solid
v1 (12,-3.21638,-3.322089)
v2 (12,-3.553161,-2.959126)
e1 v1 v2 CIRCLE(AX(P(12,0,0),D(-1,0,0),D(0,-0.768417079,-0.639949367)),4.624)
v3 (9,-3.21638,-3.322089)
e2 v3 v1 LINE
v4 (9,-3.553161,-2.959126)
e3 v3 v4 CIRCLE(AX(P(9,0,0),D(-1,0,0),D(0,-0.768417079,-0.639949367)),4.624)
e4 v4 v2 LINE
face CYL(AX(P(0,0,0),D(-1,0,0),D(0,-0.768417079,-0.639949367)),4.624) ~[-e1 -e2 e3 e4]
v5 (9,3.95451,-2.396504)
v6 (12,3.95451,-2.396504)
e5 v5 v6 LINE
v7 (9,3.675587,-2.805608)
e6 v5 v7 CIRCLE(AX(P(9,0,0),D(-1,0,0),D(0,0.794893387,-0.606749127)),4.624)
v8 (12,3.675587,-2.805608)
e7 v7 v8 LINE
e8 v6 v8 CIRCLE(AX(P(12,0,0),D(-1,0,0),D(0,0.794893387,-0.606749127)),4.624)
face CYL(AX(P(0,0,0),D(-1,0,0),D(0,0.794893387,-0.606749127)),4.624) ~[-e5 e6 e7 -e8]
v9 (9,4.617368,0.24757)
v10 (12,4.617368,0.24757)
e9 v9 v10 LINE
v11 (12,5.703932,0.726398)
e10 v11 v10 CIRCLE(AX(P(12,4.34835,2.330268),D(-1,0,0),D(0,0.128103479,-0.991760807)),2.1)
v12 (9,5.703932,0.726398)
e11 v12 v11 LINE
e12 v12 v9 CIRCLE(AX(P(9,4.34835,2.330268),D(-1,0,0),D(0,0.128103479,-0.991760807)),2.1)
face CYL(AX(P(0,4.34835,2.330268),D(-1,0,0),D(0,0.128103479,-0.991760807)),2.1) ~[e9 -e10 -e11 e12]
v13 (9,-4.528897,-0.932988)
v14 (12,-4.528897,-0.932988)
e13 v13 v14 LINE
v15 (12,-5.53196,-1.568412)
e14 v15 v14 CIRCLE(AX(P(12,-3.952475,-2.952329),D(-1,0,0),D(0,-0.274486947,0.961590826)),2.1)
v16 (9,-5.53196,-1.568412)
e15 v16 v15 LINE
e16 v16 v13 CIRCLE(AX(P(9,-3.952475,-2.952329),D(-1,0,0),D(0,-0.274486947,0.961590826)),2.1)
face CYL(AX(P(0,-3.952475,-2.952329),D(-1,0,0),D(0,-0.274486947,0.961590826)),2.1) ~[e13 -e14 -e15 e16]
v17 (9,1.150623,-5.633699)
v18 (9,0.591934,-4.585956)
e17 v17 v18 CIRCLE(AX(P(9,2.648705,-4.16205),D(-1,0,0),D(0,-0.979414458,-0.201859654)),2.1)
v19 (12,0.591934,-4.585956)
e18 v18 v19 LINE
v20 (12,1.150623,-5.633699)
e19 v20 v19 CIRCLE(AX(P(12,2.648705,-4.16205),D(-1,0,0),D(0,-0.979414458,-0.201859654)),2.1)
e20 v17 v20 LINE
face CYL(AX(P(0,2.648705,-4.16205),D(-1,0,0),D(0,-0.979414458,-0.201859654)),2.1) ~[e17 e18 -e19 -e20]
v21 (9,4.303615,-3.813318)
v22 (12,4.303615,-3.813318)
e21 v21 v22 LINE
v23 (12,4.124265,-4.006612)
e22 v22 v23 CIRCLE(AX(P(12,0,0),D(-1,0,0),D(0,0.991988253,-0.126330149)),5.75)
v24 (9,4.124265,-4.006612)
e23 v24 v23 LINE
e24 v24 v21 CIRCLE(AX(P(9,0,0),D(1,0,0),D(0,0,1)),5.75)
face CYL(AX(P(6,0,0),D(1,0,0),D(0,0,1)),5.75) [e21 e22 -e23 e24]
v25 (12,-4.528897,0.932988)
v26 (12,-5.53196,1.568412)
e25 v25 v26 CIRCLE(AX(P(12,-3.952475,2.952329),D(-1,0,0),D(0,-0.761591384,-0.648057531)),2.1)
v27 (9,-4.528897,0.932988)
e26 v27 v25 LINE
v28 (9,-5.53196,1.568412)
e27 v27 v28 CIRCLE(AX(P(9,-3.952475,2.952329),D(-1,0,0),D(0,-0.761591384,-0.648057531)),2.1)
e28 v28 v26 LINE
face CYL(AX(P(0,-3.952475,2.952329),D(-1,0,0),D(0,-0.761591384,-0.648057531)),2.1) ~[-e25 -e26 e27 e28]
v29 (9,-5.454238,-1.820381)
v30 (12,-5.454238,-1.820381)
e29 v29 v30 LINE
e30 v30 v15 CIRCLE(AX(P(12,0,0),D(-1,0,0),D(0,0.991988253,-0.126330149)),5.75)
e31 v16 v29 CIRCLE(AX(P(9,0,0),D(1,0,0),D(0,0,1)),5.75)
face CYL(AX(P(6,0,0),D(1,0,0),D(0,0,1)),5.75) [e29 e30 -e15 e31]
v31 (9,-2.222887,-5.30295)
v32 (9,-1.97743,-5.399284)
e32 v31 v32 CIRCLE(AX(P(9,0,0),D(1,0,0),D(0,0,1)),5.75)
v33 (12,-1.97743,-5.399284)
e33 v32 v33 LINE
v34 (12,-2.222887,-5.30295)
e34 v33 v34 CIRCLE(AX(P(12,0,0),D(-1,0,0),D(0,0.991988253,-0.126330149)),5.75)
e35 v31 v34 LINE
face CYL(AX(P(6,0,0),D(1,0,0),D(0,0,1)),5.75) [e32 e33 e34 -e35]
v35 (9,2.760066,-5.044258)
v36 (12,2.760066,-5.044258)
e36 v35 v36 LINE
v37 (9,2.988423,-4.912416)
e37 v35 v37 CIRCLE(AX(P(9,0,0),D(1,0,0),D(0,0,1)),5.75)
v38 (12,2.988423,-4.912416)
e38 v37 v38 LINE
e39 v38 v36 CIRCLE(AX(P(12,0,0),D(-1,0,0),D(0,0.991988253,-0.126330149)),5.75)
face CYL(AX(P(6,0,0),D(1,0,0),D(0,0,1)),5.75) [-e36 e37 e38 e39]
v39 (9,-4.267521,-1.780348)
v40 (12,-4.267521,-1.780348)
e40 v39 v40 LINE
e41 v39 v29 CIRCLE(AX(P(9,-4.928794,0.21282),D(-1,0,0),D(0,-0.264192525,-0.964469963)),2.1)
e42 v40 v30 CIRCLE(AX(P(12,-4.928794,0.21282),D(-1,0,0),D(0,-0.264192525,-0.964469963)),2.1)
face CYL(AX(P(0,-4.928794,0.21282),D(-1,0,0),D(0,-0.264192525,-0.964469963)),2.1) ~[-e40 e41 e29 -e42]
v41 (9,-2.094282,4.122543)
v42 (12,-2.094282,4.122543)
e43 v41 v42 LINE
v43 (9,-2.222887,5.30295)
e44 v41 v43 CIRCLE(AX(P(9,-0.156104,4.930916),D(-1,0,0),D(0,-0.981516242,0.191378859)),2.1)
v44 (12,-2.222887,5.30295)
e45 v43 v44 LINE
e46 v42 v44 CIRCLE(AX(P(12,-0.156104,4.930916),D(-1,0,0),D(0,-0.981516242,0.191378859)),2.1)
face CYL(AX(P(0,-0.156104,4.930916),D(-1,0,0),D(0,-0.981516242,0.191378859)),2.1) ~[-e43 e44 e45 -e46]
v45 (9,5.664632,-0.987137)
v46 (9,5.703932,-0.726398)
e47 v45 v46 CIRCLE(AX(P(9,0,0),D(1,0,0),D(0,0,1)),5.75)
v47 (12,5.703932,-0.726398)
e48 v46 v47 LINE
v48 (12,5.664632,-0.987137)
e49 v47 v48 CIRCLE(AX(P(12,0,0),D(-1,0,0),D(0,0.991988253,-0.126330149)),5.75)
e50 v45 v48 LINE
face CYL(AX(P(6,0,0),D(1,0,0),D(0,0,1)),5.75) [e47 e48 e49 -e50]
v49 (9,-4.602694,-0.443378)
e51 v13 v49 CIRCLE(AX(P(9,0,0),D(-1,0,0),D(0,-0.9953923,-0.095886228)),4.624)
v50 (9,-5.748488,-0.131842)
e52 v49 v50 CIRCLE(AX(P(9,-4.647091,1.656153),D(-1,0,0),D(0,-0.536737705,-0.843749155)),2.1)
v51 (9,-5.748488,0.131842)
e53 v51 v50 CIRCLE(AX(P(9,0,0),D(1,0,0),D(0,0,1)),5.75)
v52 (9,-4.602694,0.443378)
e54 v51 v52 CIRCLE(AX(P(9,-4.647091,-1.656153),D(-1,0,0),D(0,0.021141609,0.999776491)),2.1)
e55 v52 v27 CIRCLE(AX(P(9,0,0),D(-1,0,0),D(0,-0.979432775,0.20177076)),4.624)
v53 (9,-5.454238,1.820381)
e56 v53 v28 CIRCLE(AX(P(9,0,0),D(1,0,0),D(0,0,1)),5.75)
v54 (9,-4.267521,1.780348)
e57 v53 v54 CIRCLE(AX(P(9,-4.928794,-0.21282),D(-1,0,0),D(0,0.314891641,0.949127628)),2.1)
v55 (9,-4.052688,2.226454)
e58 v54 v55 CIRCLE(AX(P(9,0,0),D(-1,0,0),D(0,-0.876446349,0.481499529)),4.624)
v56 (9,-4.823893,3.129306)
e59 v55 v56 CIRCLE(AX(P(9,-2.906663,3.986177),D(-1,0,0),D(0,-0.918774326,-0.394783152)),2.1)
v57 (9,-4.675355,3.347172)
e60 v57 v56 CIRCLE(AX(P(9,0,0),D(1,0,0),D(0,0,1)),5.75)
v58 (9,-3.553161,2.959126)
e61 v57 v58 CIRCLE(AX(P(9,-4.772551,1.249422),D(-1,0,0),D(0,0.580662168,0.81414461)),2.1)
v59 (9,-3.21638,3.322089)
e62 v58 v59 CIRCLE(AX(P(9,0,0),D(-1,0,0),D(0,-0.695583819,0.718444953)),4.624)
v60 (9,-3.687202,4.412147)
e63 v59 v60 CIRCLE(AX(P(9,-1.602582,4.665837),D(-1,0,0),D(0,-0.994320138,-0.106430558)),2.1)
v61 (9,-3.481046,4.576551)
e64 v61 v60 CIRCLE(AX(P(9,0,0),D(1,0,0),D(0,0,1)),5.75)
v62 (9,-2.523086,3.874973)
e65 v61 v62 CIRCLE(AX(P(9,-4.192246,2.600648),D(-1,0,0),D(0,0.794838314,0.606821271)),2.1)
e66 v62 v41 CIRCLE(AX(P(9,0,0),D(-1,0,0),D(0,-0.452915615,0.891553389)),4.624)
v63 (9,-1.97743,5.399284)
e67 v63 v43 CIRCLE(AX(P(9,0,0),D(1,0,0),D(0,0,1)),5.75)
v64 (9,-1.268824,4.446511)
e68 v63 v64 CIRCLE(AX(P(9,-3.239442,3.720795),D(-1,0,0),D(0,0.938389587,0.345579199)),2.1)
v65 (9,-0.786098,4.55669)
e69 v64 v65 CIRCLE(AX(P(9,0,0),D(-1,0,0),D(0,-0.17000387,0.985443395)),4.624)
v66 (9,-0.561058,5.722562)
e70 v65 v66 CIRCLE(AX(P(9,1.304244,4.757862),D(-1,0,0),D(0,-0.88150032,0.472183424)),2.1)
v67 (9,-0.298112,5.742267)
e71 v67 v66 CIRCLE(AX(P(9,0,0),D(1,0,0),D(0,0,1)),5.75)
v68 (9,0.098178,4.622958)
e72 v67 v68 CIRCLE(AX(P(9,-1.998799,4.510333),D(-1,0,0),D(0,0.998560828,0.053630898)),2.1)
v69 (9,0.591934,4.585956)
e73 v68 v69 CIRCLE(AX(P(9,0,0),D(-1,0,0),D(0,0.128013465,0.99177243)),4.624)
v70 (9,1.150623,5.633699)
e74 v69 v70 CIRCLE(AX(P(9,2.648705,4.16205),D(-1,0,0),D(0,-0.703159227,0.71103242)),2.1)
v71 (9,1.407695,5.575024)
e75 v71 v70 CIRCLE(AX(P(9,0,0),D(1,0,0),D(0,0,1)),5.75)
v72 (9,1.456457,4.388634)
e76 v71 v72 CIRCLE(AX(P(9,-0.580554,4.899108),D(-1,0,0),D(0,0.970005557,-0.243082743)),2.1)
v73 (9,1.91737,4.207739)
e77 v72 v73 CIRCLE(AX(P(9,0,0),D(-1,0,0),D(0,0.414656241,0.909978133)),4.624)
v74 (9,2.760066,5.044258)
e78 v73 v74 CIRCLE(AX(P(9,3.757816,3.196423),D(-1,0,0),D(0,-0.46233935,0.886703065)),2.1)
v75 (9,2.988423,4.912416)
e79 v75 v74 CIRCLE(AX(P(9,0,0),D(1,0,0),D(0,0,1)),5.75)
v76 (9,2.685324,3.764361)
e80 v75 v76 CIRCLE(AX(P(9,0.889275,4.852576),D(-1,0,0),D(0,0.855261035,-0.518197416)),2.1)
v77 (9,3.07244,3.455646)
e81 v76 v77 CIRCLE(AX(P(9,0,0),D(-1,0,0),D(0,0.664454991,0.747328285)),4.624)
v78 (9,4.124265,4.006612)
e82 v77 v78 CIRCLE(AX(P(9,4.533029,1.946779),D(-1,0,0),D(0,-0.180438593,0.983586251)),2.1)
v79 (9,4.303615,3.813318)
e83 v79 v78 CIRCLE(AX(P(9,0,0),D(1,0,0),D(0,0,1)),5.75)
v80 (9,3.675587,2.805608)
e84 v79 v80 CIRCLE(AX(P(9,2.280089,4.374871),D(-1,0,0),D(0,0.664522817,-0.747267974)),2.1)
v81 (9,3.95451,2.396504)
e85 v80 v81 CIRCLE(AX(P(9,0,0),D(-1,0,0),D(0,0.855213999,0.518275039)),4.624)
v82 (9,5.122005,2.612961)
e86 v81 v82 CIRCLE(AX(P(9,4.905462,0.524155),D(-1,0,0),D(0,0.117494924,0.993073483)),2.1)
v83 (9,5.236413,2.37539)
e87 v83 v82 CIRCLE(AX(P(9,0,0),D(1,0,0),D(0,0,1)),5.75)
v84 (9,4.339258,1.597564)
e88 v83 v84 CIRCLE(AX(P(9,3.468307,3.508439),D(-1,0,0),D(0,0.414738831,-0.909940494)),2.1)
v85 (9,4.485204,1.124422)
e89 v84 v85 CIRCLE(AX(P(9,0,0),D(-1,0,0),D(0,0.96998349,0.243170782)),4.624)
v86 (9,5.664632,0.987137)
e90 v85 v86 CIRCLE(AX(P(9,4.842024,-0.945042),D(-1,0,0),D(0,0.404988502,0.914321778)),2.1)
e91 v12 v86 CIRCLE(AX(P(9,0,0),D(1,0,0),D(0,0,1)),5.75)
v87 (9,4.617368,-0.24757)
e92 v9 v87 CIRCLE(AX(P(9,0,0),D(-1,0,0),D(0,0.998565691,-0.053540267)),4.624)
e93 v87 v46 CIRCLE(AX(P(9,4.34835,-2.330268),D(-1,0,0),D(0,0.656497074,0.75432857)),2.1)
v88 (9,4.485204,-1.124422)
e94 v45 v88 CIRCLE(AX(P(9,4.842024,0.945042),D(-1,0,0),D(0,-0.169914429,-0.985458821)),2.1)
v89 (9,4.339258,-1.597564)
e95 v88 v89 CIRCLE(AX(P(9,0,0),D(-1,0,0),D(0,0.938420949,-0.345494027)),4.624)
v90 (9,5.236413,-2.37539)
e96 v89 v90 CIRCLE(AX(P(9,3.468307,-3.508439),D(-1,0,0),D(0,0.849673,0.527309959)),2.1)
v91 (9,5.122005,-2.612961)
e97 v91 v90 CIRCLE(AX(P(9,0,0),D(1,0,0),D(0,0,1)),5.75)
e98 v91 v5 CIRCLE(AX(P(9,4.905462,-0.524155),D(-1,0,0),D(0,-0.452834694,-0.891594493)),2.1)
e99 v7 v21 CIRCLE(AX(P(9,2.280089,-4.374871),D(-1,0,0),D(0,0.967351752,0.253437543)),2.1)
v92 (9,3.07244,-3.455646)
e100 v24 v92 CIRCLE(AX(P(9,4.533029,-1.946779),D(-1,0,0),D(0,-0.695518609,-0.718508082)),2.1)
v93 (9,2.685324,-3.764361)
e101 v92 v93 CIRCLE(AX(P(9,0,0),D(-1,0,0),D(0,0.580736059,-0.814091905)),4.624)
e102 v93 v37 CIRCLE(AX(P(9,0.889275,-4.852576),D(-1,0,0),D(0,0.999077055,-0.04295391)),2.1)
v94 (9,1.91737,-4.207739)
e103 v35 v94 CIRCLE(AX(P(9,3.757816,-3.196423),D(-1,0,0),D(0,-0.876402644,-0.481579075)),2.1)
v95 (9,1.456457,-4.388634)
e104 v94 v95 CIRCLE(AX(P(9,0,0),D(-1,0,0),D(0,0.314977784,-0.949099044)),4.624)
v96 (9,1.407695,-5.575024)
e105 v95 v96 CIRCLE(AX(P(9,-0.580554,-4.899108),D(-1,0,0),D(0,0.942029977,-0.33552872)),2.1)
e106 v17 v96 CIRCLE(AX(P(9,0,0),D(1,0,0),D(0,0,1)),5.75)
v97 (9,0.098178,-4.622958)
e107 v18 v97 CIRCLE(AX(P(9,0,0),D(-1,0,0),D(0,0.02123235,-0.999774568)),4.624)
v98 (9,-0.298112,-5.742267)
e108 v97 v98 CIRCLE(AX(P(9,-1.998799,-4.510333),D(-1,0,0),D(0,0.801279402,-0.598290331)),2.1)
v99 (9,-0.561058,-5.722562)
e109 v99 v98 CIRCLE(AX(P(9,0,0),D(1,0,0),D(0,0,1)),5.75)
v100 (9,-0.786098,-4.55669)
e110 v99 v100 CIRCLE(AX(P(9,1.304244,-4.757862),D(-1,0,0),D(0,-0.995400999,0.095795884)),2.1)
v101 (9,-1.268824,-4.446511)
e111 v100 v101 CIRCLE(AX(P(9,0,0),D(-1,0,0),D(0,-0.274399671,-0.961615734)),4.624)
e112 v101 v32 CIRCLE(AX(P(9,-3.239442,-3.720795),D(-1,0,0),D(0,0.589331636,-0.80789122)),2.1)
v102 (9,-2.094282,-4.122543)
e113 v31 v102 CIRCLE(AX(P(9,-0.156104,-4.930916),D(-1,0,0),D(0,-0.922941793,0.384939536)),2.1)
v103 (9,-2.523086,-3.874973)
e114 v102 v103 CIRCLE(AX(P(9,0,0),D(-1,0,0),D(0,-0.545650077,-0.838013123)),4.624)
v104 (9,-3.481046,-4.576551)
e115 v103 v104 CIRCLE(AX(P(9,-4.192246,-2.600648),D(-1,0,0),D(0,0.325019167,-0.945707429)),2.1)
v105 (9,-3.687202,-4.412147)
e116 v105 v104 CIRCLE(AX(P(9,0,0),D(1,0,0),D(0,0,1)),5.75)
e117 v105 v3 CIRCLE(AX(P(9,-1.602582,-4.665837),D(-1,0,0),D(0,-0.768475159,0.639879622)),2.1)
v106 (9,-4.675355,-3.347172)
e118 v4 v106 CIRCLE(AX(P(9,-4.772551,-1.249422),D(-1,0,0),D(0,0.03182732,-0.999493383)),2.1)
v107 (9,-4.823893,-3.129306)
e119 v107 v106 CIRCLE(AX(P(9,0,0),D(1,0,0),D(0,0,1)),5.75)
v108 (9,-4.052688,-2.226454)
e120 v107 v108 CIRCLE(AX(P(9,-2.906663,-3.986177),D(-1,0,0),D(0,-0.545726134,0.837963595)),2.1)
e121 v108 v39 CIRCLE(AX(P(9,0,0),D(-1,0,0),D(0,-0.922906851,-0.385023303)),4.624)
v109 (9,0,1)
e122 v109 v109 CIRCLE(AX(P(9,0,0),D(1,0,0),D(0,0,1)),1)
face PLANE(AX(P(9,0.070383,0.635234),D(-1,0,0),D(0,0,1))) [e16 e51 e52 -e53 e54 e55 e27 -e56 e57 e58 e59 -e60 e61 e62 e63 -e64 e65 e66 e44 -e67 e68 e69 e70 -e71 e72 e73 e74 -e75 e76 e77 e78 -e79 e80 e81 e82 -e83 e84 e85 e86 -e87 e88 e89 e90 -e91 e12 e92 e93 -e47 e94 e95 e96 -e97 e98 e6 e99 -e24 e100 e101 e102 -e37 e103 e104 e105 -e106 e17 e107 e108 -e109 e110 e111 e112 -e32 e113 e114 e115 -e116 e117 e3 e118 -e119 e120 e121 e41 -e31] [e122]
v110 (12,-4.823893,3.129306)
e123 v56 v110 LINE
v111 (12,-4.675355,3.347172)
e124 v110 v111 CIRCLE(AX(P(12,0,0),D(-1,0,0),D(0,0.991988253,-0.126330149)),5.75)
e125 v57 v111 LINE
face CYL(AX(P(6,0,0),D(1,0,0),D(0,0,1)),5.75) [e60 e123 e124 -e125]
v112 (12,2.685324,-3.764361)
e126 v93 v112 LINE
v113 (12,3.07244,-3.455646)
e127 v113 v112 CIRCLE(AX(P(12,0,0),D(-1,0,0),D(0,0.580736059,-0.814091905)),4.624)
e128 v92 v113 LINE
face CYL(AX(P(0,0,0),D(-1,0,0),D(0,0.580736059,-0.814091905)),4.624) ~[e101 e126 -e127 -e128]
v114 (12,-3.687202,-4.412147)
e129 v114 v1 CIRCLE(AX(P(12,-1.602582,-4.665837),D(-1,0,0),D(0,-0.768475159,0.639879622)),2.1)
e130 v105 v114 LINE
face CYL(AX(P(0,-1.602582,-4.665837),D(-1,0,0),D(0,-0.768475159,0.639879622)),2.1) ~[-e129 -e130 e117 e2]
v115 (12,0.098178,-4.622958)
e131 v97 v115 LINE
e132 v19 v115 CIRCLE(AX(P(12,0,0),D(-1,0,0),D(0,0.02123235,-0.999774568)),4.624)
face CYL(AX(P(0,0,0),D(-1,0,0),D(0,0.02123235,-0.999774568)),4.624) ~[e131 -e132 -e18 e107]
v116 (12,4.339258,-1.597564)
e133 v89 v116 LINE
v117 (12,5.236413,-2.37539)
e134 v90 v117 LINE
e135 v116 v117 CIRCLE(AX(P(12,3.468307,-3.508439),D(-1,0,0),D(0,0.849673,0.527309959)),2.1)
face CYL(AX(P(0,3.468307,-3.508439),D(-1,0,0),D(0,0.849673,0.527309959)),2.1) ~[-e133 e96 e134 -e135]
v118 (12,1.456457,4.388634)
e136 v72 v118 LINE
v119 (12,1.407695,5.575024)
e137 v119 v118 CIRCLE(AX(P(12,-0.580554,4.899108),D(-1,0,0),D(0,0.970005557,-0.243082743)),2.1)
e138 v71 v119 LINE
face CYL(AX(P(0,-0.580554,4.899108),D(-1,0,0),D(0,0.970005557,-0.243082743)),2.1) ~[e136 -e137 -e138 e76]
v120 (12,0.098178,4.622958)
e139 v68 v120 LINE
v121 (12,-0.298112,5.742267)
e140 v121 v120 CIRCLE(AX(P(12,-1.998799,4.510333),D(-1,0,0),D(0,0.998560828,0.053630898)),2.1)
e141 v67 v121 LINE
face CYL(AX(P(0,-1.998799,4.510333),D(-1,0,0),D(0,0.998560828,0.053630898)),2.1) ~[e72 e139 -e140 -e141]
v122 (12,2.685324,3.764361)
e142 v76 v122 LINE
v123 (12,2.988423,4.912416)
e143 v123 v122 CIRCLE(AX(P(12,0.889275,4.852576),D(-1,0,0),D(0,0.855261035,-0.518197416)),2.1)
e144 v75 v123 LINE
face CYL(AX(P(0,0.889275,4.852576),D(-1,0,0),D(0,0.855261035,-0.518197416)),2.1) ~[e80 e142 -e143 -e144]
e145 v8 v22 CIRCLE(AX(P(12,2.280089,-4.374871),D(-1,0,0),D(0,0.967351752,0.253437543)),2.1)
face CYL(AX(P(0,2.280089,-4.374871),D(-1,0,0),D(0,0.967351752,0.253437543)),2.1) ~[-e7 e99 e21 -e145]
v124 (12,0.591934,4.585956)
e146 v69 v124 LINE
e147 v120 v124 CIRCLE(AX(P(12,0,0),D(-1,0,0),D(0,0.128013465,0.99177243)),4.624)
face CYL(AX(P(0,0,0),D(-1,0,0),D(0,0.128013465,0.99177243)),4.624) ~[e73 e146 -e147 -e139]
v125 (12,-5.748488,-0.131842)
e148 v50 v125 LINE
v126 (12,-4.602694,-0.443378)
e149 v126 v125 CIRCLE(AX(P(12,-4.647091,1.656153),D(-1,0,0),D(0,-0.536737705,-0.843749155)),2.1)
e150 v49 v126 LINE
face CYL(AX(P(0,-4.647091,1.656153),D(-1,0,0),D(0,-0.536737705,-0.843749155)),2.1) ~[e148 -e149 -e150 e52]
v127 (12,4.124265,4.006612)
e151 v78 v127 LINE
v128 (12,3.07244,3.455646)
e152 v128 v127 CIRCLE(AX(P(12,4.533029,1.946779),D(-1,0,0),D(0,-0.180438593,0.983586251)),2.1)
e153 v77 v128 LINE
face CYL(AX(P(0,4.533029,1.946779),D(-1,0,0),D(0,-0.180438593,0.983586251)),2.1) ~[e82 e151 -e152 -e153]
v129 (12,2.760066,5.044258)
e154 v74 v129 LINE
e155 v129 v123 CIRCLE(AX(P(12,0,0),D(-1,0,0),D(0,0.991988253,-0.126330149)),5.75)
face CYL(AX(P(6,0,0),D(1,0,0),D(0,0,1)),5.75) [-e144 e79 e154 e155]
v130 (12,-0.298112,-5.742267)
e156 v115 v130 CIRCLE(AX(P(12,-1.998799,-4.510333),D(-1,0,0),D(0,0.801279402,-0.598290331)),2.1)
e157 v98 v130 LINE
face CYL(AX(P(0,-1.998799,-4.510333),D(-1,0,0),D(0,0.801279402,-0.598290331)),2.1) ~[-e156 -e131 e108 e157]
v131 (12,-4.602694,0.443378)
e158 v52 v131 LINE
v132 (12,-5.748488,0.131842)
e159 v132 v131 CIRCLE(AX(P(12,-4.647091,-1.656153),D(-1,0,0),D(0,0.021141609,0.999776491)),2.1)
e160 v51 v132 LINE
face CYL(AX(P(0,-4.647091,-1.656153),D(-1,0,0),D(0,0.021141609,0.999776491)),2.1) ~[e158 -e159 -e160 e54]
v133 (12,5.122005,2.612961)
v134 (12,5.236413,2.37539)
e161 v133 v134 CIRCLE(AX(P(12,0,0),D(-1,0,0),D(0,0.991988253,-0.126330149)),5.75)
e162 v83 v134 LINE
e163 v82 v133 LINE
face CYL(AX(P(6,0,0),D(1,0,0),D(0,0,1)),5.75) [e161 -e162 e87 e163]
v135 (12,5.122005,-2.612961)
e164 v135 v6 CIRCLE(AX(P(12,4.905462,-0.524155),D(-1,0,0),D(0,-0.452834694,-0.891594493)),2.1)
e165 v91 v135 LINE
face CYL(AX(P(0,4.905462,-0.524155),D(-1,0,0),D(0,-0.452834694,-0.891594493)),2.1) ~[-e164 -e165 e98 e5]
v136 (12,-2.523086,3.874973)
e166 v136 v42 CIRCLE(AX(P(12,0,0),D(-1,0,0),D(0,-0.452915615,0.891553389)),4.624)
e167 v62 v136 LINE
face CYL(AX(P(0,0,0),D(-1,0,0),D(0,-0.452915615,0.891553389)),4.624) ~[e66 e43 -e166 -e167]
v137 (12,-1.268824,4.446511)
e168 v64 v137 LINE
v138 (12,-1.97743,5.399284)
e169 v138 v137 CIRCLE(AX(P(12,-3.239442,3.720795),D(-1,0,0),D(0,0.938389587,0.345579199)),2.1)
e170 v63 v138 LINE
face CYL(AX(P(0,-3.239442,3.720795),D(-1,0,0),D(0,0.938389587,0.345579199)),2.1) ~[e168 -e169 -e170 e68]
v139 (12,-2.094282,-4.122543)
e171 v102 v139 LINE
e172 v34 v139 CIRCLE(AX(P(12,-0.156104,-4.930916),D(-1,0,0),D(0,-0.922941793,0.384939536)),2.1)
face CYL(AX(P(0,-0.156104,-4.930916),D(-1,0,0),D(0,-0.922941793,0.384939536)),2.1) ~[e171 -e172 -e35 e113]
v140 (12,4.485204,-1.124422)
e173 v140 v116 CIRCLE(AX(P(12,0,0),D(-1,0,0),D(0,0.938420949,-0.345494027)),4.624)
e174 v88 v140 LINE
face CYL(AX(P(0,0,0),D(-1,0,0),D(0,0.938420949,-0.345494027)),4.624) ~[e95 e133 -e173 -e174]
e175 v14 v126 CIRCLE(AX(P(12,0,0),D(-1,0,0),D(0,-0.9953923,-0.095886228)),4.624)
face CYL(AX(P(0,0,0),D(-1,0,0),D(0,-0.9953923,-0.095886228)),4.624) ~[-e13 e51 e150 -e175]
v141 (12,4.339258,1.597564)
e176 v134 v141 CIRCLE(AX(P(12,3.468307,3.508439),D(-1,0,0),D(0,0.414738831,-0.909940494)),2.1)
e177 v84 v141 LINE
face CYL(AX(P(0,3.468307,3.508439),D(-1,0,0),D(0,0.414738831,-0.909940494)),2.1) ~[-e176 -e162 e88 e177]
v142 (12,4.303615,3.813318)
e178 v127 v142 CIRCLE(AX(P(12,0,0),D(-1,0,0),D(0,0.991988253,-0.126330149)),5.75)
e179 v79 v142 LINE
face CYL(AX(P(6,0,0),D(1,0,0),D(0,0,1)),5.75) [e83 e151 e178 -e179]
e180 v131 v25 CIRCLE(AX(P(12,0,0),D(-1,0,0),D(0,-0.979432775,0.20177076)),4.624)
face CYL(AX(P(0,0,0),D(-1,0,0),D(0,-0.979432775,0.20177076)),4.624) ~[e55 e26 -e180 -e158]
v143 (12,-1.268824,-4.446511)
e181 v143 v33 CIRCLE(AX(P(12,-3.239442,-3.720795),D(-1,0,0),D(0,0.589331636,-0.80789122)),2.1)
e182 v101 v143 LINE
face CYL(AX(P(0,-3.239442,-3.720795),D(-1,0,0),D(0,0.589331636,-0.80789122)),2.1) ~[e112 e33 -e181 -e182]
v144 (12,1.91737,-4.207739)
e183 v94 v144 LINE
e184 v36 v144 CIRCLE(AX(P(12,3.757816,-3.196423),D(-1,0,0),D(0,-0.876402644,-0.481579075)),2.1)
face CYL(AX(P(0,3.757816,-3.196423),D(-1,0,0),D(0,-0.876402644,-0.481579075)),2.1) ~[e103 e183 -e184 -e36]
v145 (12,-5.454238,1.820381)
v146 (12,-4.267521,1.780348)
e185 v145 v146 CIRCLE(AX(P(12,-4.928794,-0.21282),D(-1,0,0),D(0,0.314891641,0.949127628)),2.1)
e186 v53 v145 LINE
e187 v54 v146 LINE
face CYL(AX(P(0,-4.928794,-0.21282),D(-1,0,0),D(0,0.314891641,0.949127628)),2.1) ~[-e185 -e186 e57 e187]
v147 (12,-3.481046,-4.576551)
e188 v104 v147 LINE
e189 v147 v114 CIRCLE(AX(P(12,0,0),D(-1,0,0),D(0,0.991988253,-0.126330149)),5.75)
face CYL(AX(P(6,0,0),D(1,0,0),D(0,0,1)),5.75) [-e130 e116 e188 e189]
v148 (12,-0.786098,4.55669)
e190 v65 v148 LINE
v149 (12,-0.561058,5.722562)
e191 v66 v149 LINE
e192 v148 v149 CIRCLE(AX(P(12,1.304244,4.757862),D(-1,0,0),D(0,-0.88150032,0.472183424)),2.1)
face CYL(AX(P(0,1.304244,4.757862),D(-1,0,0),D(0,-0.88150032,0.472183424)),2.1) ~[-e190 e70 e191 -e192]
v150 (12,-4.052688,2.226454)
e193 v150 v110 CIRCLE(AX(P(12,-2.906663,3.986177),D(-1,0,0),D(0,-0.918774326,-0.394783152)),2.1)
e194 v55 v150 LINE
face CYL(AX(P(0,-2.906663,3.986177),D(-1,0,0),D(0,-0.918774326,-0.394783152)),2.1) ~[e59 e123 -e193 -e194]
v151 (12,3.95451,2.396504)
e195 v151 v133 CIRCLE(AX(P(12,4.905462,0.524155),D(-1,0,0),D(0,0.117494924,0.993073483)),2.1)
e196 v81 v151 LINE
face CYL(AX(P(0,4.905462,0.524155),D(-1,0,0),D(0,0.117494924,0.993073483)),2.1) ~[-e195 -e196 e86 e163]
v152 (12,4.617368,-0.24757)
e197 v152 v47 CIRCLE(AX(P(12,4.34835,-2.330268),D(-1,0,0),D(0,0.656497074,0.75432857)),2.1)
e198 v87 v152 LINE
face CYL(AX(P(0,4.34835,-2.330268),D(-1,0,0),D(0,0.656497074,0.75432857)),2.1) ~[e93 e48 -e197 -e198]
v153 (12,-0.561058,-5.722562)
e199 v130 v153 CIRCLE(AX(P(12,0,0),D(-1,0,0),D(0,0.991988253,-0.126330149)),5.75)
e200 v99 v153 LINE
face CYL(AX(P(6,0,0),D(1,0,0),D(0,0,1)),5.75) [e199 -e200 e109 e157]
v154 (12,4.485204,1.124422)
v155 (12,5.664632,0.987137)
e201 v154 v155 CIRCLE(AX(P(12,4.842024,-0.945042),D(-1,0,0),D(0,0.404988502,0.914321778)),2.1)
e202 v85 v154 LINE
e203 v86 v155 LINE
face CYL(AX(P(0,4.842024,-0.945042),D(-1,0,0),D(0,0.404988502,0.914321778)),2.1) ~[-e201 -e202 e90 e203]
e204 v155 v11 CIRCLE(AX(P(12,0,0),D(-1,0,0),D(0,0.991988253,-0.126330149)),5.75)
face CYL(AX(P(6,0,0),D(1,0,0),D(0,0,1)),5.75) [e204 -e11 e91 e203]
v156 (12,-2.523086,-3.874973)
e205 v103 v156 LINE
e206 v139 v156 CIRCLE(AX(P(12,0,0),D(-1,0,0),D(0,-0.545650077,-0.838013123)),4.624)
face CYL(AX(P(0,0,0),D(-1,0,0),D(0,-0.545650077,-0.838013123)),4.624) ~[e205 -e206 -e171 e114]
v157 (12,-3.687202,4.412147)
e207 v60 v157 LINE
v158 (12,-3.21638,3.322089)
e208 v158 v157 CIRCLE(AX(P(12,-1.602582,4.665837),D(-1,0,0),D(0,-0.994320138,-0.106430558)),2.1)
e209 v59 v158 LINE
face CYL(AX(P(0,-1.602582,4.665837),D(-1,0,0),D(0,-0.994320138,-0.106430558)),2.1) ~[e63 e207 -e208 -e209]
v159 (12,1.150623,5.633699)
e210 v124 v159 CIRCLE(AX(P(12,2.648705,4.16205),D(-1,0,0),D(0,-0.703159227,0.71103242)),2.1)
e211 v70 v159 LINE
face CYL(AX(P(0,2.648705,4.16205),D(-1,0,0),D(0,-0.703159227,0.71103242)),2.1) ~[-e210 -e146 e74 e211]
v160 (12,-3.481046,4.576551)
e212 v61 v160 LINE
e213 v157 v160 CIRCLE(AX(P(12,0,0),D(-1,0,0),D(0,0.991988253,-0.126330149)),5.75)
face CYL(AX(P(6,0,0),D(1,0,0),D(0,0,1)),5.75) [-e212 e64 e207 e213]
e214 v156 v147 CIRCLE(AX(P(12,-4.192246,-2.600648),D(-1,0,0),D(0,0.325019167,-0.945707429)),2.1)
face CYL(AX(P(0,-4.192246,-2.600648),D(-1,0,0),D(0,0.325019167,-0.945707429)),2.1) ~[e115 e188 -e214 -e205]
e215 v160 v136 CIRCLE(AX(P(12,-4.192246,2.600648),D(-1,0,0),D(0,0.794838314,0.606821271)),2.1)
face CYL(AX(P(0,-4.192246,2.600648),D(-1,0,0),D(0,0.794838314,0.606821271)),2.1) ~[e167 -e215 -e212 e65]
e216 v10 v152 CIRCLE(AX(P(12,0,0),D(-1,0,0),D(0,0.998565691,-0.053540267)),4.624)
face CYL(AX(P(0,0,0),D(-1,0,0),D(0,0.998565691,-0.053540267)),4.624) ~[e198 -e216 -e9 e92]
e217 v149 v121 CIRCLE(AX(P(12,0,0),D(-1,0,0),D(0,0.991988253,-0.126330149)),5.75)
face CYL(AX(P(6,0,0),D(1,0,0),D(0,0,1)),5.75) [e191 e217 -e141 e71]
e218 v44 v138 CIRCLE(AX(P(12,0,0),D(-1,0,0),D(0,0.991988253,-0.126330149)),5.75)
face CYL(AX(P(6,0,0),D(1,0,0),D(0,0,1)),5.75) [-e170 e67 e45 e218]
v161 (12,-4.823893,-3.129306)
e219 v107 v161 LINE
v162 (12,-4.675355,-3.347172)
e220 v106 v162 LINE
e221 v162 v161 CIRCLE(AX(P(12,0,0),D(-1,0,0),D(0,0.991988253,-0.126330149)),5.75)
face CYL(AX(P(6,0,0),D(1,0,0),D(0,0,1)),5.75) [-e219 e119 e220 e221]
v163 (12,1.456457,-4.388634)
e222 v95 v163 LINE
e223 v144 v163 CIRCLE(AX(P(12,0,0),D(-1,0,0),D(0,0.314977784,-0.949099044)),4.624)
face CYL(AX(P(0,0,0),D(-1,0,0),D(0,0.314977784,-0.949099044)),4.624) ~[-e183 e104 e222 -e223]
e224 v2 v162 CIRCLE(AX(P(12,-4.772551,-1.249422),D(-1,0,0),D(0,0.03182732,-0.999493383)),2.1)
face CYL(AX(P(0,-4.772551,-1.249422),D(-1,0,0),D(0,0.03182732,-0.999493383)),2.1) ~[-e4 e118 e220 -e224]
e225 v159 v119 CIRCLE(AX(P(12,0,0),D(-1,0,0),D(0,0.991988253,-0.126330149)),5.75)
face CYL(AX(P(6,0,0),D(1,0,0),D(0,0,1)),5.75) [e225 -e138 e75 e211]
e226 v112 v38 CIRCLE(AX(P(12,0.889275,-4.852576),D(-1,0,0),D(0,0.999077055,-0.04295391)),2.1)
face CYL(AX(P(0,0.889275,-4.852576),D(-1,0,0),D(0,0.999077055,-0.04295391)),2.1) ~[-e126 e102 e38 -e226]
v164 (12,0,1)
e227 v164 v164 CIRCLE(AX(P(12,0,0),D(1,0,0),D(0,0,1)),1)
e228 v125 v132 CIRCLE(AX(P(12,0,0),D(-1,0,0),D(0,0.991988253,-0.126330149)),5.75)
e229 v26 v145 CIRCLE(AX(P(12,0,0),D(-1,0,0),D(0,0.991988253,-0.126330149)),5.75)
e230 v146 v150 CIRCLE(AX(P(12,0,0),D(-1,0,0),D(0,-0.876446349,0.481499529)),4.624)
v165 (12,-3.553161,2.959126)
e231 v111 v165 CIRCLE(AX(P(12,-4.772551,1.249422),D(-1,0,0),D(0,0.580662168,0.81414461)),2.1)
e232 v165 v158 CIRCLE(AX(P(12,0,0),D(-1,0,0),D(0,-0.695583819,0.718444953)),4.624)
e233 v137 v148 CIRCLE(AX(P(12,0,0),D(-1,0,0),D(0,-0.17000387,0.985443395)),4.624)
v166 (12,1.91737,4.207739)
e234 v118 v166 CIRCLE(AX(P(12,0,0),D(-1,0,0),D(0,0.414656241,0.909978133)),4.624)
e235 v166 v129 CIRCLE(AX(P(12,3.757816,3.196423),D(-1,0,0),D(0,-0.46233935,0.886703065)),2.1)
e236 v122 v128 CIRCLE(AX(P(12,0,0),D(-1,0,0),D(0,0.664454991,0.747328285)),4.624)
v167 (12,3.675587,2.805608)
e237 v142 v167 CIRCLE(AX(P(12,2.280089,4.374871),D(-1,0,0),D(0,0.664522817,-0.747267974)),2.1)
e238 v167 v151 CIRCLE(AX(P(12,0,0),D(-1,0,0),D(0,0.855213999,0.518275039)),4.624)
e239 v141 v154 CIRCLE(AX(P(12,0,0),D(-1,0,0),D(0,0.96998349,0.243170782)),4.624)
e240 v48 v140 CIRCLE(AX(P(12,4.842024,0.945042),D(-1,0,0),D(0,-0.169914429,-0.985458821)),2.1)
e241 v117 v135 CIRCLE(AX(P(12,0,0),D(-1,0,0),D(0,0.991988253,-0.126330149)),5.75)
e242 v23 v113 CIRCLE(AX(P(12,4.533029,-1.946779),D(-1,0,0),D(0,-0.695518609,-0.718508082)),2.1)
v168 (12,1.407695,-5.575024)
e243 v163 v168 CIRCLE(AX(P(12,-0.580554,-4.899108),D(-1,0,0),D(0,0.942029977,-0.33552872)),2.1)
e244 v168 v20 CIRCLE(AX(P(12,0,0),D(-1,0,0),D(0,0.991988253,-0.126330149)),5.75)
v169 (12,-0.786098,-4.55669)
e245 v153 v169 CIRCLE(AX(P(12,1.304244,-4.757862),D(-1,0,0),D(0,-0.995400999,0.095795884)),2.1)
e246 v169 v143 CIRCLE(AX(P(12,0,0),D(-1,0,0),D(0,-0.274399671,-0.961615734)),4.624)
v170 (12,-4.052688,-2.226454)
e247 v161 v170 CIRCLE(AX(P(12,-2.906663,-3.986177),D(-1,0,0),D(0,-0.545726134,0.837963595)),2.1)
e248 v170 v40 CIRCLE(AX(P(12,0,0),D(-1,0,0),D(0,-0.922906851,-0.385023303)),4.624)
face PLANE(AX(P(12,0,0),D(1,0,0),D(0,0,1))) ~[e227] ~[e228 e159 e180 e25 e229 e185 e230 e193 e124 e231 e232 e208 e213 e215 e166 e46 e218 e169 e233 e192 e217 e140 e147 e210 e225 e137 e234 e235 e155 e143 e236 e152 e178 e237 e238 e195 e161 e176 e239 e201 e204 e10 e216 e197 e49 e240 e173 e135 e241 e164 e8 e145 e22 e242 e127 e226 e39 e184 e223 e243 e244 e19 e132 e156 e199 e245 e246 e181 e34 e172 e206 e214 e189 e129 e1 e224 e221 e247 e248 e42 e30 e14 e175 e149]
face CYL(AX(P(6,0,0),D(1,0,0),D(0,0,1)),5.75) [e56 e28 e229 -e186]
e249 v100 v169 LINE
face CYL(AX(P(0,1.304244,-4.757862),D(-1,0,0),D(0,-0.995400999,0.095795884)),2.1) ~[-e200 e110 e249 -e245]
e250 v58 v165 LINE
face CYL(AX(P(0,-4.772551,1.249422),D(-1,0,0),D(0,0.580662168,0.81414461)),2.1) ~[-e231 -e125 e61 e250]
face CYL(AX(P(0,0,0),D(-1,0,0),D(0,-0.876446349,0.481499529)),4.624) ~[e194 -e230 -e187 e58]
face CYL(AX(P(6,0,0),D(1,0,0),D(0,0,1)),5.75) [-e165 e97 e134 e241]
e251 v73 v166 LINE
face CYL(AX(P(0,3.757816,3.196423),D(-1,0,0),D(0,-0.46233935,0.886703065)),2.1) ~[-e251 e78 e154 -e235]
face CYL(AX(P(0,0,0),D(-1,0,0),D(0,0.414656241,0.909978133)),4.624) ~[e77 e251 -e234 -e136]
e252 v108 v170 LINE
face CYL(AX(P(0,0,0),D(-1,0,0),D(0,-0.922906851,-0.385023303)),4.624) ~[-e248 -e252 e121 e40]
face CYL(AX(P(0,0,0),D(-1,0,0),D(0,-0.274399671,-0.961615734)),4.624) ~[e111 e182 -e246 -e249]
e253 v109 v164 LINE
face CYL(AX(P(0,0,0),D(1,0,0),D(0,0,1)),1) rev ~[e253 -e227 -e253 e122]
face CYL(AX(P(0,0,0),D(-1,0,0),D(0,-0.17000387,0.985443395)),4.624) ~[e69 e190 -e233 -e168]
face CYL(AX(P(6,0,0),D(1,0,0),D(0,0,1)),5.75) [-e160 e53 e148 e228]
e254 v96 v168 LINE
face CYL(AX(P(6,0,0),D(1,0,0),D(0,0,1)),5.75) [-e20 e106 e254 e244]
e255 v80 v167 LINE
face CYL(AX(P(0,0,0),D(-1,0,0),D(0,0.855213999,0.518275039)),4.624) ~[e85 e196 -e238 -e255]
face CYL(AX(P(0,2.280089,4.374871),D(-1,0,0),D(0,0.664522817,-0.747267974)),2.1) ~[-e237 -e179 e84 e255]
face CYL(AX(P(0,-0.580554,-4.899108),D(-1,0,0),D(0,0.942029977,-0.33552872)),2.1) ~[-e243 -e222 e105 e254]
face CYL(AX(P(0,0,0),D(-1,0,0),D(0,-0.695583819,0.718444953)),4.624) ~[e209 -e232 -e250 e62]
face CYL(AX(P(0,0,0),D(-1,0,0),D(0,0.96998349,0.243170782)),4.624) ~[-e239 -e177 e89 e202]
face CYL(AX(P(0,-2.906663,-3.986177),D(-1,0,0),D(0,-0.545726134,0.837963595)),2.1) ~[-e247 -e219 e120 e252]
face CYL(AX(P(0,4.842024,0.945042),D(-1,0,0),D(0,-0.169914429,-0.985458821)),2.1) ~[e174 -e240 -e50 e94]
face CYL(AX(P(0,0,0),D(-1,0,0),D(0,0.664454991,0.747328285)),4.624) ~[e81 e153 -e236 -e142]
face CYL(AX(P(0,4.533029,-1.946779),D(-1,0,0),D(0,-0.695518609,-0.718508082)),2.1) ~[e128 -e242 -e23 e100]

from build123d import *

# Parameters (mm, degrees)
BASPROSKE_W           = 12
BASPROSKE_H           = 5.75
TOOTHCUT_DEPTH        = 15.495689014
TEETHCUTS_COUNT       = 21
TEETHCUTS_ANGLE       = 342.857142857
BORSKE_R              = 1
BORE_DEPTH            = 50.0000508
CROQUIS1_W            = 14.068559573
CROQUIS1_H            = 12.667308619
CORTAR_EXTRUIR1_DEPTH = 9


with BuildPart() as part:
    # BasProSke → Base-Revolve (revolve)
    with BuildSketch(Plane(origin=(0, 0, 0), x_dir=(1, 0, 0), z_dir=(0, 1, 0)), mode=Mode.PRIVATE) as base_revolve_sk:
        with Locations((6, 2.875)):
            Rectangle(BASPROSKE_W, BASPROSKE_H)
    revolve(base_revolve_sk.sketch.rotate(Axis((-10, 0, 0), (1, 0, 0)), 180), axis=Axis((-10, 0, 0), (1, 0, 0)))

    # TooCutSke → ToothCut (cut, through all)
    with BuildSketch(Plane(origin=(0, 0, 0), x_dir=(0, 0, -1), z_dir=(1, 0, 0))):
        with BuildLine():
            ThreePointArc((0.247570178, 4.617367757), (0, 4.624), (-0.247570178, 4.617367757))
            ThreePointArc((-0.247570178, 4.617367757), (-0.414765128, 5.209076442), (-0.746177874, 5.726994302))
            ThreePointArc((-0.746177874, 5.726994302), (0, 5.7754), (0.746177874, 5.726994302))
            ThreePointArc((0.746177874, 5.726994302), (0.414765128, 5.209076442), (0.247570178, 4.617367757))
        make_face()
    toothcut = extrude(amount=TOOTHCUT_DEPTH, mode=Mode.SUBTRACT)

    # TeethCuts: ToothCut ×21 about axis
    teethcuts_axis = Axis((-10, 0, 0), (1, 0, 0))
    for i in range(1, TEETHCUTS_COUNT):
        add(toothcut.rotate(teethcuts_axis, i * TEETHCUTS_ANGLE / (TEETHCUTS_COUNT - 1)), mode=Mode.SUBTRACT)

    # BorSke → Bore (cut, symmetric)
    with BuildSketch(Plane(origin=(0, 0, 0), x_dir=(0, 0, -1), z_dir=(1, 0, 0))):
        with Locations(Location((0, 0, 0), (0, 0, 180))):
            Circle(BORSKE_R)
    extrude(amount=BORE_DEPTH, both=True, mode=Mode.SUBTRACT)

    # Croquis1 → Cortar-Extruir1 (cut)
    with BuildSketch(Plane.ZY):
        with Locations((0.635233766, 0.070382957)):
            Rectangle(CROQUIS1_W, CROQUIS1_H)
    extrude(amount=-CORTAR_EXTRUIR1_DEPTH, mode=Mode.SUBTRACT)


solid = part.part
